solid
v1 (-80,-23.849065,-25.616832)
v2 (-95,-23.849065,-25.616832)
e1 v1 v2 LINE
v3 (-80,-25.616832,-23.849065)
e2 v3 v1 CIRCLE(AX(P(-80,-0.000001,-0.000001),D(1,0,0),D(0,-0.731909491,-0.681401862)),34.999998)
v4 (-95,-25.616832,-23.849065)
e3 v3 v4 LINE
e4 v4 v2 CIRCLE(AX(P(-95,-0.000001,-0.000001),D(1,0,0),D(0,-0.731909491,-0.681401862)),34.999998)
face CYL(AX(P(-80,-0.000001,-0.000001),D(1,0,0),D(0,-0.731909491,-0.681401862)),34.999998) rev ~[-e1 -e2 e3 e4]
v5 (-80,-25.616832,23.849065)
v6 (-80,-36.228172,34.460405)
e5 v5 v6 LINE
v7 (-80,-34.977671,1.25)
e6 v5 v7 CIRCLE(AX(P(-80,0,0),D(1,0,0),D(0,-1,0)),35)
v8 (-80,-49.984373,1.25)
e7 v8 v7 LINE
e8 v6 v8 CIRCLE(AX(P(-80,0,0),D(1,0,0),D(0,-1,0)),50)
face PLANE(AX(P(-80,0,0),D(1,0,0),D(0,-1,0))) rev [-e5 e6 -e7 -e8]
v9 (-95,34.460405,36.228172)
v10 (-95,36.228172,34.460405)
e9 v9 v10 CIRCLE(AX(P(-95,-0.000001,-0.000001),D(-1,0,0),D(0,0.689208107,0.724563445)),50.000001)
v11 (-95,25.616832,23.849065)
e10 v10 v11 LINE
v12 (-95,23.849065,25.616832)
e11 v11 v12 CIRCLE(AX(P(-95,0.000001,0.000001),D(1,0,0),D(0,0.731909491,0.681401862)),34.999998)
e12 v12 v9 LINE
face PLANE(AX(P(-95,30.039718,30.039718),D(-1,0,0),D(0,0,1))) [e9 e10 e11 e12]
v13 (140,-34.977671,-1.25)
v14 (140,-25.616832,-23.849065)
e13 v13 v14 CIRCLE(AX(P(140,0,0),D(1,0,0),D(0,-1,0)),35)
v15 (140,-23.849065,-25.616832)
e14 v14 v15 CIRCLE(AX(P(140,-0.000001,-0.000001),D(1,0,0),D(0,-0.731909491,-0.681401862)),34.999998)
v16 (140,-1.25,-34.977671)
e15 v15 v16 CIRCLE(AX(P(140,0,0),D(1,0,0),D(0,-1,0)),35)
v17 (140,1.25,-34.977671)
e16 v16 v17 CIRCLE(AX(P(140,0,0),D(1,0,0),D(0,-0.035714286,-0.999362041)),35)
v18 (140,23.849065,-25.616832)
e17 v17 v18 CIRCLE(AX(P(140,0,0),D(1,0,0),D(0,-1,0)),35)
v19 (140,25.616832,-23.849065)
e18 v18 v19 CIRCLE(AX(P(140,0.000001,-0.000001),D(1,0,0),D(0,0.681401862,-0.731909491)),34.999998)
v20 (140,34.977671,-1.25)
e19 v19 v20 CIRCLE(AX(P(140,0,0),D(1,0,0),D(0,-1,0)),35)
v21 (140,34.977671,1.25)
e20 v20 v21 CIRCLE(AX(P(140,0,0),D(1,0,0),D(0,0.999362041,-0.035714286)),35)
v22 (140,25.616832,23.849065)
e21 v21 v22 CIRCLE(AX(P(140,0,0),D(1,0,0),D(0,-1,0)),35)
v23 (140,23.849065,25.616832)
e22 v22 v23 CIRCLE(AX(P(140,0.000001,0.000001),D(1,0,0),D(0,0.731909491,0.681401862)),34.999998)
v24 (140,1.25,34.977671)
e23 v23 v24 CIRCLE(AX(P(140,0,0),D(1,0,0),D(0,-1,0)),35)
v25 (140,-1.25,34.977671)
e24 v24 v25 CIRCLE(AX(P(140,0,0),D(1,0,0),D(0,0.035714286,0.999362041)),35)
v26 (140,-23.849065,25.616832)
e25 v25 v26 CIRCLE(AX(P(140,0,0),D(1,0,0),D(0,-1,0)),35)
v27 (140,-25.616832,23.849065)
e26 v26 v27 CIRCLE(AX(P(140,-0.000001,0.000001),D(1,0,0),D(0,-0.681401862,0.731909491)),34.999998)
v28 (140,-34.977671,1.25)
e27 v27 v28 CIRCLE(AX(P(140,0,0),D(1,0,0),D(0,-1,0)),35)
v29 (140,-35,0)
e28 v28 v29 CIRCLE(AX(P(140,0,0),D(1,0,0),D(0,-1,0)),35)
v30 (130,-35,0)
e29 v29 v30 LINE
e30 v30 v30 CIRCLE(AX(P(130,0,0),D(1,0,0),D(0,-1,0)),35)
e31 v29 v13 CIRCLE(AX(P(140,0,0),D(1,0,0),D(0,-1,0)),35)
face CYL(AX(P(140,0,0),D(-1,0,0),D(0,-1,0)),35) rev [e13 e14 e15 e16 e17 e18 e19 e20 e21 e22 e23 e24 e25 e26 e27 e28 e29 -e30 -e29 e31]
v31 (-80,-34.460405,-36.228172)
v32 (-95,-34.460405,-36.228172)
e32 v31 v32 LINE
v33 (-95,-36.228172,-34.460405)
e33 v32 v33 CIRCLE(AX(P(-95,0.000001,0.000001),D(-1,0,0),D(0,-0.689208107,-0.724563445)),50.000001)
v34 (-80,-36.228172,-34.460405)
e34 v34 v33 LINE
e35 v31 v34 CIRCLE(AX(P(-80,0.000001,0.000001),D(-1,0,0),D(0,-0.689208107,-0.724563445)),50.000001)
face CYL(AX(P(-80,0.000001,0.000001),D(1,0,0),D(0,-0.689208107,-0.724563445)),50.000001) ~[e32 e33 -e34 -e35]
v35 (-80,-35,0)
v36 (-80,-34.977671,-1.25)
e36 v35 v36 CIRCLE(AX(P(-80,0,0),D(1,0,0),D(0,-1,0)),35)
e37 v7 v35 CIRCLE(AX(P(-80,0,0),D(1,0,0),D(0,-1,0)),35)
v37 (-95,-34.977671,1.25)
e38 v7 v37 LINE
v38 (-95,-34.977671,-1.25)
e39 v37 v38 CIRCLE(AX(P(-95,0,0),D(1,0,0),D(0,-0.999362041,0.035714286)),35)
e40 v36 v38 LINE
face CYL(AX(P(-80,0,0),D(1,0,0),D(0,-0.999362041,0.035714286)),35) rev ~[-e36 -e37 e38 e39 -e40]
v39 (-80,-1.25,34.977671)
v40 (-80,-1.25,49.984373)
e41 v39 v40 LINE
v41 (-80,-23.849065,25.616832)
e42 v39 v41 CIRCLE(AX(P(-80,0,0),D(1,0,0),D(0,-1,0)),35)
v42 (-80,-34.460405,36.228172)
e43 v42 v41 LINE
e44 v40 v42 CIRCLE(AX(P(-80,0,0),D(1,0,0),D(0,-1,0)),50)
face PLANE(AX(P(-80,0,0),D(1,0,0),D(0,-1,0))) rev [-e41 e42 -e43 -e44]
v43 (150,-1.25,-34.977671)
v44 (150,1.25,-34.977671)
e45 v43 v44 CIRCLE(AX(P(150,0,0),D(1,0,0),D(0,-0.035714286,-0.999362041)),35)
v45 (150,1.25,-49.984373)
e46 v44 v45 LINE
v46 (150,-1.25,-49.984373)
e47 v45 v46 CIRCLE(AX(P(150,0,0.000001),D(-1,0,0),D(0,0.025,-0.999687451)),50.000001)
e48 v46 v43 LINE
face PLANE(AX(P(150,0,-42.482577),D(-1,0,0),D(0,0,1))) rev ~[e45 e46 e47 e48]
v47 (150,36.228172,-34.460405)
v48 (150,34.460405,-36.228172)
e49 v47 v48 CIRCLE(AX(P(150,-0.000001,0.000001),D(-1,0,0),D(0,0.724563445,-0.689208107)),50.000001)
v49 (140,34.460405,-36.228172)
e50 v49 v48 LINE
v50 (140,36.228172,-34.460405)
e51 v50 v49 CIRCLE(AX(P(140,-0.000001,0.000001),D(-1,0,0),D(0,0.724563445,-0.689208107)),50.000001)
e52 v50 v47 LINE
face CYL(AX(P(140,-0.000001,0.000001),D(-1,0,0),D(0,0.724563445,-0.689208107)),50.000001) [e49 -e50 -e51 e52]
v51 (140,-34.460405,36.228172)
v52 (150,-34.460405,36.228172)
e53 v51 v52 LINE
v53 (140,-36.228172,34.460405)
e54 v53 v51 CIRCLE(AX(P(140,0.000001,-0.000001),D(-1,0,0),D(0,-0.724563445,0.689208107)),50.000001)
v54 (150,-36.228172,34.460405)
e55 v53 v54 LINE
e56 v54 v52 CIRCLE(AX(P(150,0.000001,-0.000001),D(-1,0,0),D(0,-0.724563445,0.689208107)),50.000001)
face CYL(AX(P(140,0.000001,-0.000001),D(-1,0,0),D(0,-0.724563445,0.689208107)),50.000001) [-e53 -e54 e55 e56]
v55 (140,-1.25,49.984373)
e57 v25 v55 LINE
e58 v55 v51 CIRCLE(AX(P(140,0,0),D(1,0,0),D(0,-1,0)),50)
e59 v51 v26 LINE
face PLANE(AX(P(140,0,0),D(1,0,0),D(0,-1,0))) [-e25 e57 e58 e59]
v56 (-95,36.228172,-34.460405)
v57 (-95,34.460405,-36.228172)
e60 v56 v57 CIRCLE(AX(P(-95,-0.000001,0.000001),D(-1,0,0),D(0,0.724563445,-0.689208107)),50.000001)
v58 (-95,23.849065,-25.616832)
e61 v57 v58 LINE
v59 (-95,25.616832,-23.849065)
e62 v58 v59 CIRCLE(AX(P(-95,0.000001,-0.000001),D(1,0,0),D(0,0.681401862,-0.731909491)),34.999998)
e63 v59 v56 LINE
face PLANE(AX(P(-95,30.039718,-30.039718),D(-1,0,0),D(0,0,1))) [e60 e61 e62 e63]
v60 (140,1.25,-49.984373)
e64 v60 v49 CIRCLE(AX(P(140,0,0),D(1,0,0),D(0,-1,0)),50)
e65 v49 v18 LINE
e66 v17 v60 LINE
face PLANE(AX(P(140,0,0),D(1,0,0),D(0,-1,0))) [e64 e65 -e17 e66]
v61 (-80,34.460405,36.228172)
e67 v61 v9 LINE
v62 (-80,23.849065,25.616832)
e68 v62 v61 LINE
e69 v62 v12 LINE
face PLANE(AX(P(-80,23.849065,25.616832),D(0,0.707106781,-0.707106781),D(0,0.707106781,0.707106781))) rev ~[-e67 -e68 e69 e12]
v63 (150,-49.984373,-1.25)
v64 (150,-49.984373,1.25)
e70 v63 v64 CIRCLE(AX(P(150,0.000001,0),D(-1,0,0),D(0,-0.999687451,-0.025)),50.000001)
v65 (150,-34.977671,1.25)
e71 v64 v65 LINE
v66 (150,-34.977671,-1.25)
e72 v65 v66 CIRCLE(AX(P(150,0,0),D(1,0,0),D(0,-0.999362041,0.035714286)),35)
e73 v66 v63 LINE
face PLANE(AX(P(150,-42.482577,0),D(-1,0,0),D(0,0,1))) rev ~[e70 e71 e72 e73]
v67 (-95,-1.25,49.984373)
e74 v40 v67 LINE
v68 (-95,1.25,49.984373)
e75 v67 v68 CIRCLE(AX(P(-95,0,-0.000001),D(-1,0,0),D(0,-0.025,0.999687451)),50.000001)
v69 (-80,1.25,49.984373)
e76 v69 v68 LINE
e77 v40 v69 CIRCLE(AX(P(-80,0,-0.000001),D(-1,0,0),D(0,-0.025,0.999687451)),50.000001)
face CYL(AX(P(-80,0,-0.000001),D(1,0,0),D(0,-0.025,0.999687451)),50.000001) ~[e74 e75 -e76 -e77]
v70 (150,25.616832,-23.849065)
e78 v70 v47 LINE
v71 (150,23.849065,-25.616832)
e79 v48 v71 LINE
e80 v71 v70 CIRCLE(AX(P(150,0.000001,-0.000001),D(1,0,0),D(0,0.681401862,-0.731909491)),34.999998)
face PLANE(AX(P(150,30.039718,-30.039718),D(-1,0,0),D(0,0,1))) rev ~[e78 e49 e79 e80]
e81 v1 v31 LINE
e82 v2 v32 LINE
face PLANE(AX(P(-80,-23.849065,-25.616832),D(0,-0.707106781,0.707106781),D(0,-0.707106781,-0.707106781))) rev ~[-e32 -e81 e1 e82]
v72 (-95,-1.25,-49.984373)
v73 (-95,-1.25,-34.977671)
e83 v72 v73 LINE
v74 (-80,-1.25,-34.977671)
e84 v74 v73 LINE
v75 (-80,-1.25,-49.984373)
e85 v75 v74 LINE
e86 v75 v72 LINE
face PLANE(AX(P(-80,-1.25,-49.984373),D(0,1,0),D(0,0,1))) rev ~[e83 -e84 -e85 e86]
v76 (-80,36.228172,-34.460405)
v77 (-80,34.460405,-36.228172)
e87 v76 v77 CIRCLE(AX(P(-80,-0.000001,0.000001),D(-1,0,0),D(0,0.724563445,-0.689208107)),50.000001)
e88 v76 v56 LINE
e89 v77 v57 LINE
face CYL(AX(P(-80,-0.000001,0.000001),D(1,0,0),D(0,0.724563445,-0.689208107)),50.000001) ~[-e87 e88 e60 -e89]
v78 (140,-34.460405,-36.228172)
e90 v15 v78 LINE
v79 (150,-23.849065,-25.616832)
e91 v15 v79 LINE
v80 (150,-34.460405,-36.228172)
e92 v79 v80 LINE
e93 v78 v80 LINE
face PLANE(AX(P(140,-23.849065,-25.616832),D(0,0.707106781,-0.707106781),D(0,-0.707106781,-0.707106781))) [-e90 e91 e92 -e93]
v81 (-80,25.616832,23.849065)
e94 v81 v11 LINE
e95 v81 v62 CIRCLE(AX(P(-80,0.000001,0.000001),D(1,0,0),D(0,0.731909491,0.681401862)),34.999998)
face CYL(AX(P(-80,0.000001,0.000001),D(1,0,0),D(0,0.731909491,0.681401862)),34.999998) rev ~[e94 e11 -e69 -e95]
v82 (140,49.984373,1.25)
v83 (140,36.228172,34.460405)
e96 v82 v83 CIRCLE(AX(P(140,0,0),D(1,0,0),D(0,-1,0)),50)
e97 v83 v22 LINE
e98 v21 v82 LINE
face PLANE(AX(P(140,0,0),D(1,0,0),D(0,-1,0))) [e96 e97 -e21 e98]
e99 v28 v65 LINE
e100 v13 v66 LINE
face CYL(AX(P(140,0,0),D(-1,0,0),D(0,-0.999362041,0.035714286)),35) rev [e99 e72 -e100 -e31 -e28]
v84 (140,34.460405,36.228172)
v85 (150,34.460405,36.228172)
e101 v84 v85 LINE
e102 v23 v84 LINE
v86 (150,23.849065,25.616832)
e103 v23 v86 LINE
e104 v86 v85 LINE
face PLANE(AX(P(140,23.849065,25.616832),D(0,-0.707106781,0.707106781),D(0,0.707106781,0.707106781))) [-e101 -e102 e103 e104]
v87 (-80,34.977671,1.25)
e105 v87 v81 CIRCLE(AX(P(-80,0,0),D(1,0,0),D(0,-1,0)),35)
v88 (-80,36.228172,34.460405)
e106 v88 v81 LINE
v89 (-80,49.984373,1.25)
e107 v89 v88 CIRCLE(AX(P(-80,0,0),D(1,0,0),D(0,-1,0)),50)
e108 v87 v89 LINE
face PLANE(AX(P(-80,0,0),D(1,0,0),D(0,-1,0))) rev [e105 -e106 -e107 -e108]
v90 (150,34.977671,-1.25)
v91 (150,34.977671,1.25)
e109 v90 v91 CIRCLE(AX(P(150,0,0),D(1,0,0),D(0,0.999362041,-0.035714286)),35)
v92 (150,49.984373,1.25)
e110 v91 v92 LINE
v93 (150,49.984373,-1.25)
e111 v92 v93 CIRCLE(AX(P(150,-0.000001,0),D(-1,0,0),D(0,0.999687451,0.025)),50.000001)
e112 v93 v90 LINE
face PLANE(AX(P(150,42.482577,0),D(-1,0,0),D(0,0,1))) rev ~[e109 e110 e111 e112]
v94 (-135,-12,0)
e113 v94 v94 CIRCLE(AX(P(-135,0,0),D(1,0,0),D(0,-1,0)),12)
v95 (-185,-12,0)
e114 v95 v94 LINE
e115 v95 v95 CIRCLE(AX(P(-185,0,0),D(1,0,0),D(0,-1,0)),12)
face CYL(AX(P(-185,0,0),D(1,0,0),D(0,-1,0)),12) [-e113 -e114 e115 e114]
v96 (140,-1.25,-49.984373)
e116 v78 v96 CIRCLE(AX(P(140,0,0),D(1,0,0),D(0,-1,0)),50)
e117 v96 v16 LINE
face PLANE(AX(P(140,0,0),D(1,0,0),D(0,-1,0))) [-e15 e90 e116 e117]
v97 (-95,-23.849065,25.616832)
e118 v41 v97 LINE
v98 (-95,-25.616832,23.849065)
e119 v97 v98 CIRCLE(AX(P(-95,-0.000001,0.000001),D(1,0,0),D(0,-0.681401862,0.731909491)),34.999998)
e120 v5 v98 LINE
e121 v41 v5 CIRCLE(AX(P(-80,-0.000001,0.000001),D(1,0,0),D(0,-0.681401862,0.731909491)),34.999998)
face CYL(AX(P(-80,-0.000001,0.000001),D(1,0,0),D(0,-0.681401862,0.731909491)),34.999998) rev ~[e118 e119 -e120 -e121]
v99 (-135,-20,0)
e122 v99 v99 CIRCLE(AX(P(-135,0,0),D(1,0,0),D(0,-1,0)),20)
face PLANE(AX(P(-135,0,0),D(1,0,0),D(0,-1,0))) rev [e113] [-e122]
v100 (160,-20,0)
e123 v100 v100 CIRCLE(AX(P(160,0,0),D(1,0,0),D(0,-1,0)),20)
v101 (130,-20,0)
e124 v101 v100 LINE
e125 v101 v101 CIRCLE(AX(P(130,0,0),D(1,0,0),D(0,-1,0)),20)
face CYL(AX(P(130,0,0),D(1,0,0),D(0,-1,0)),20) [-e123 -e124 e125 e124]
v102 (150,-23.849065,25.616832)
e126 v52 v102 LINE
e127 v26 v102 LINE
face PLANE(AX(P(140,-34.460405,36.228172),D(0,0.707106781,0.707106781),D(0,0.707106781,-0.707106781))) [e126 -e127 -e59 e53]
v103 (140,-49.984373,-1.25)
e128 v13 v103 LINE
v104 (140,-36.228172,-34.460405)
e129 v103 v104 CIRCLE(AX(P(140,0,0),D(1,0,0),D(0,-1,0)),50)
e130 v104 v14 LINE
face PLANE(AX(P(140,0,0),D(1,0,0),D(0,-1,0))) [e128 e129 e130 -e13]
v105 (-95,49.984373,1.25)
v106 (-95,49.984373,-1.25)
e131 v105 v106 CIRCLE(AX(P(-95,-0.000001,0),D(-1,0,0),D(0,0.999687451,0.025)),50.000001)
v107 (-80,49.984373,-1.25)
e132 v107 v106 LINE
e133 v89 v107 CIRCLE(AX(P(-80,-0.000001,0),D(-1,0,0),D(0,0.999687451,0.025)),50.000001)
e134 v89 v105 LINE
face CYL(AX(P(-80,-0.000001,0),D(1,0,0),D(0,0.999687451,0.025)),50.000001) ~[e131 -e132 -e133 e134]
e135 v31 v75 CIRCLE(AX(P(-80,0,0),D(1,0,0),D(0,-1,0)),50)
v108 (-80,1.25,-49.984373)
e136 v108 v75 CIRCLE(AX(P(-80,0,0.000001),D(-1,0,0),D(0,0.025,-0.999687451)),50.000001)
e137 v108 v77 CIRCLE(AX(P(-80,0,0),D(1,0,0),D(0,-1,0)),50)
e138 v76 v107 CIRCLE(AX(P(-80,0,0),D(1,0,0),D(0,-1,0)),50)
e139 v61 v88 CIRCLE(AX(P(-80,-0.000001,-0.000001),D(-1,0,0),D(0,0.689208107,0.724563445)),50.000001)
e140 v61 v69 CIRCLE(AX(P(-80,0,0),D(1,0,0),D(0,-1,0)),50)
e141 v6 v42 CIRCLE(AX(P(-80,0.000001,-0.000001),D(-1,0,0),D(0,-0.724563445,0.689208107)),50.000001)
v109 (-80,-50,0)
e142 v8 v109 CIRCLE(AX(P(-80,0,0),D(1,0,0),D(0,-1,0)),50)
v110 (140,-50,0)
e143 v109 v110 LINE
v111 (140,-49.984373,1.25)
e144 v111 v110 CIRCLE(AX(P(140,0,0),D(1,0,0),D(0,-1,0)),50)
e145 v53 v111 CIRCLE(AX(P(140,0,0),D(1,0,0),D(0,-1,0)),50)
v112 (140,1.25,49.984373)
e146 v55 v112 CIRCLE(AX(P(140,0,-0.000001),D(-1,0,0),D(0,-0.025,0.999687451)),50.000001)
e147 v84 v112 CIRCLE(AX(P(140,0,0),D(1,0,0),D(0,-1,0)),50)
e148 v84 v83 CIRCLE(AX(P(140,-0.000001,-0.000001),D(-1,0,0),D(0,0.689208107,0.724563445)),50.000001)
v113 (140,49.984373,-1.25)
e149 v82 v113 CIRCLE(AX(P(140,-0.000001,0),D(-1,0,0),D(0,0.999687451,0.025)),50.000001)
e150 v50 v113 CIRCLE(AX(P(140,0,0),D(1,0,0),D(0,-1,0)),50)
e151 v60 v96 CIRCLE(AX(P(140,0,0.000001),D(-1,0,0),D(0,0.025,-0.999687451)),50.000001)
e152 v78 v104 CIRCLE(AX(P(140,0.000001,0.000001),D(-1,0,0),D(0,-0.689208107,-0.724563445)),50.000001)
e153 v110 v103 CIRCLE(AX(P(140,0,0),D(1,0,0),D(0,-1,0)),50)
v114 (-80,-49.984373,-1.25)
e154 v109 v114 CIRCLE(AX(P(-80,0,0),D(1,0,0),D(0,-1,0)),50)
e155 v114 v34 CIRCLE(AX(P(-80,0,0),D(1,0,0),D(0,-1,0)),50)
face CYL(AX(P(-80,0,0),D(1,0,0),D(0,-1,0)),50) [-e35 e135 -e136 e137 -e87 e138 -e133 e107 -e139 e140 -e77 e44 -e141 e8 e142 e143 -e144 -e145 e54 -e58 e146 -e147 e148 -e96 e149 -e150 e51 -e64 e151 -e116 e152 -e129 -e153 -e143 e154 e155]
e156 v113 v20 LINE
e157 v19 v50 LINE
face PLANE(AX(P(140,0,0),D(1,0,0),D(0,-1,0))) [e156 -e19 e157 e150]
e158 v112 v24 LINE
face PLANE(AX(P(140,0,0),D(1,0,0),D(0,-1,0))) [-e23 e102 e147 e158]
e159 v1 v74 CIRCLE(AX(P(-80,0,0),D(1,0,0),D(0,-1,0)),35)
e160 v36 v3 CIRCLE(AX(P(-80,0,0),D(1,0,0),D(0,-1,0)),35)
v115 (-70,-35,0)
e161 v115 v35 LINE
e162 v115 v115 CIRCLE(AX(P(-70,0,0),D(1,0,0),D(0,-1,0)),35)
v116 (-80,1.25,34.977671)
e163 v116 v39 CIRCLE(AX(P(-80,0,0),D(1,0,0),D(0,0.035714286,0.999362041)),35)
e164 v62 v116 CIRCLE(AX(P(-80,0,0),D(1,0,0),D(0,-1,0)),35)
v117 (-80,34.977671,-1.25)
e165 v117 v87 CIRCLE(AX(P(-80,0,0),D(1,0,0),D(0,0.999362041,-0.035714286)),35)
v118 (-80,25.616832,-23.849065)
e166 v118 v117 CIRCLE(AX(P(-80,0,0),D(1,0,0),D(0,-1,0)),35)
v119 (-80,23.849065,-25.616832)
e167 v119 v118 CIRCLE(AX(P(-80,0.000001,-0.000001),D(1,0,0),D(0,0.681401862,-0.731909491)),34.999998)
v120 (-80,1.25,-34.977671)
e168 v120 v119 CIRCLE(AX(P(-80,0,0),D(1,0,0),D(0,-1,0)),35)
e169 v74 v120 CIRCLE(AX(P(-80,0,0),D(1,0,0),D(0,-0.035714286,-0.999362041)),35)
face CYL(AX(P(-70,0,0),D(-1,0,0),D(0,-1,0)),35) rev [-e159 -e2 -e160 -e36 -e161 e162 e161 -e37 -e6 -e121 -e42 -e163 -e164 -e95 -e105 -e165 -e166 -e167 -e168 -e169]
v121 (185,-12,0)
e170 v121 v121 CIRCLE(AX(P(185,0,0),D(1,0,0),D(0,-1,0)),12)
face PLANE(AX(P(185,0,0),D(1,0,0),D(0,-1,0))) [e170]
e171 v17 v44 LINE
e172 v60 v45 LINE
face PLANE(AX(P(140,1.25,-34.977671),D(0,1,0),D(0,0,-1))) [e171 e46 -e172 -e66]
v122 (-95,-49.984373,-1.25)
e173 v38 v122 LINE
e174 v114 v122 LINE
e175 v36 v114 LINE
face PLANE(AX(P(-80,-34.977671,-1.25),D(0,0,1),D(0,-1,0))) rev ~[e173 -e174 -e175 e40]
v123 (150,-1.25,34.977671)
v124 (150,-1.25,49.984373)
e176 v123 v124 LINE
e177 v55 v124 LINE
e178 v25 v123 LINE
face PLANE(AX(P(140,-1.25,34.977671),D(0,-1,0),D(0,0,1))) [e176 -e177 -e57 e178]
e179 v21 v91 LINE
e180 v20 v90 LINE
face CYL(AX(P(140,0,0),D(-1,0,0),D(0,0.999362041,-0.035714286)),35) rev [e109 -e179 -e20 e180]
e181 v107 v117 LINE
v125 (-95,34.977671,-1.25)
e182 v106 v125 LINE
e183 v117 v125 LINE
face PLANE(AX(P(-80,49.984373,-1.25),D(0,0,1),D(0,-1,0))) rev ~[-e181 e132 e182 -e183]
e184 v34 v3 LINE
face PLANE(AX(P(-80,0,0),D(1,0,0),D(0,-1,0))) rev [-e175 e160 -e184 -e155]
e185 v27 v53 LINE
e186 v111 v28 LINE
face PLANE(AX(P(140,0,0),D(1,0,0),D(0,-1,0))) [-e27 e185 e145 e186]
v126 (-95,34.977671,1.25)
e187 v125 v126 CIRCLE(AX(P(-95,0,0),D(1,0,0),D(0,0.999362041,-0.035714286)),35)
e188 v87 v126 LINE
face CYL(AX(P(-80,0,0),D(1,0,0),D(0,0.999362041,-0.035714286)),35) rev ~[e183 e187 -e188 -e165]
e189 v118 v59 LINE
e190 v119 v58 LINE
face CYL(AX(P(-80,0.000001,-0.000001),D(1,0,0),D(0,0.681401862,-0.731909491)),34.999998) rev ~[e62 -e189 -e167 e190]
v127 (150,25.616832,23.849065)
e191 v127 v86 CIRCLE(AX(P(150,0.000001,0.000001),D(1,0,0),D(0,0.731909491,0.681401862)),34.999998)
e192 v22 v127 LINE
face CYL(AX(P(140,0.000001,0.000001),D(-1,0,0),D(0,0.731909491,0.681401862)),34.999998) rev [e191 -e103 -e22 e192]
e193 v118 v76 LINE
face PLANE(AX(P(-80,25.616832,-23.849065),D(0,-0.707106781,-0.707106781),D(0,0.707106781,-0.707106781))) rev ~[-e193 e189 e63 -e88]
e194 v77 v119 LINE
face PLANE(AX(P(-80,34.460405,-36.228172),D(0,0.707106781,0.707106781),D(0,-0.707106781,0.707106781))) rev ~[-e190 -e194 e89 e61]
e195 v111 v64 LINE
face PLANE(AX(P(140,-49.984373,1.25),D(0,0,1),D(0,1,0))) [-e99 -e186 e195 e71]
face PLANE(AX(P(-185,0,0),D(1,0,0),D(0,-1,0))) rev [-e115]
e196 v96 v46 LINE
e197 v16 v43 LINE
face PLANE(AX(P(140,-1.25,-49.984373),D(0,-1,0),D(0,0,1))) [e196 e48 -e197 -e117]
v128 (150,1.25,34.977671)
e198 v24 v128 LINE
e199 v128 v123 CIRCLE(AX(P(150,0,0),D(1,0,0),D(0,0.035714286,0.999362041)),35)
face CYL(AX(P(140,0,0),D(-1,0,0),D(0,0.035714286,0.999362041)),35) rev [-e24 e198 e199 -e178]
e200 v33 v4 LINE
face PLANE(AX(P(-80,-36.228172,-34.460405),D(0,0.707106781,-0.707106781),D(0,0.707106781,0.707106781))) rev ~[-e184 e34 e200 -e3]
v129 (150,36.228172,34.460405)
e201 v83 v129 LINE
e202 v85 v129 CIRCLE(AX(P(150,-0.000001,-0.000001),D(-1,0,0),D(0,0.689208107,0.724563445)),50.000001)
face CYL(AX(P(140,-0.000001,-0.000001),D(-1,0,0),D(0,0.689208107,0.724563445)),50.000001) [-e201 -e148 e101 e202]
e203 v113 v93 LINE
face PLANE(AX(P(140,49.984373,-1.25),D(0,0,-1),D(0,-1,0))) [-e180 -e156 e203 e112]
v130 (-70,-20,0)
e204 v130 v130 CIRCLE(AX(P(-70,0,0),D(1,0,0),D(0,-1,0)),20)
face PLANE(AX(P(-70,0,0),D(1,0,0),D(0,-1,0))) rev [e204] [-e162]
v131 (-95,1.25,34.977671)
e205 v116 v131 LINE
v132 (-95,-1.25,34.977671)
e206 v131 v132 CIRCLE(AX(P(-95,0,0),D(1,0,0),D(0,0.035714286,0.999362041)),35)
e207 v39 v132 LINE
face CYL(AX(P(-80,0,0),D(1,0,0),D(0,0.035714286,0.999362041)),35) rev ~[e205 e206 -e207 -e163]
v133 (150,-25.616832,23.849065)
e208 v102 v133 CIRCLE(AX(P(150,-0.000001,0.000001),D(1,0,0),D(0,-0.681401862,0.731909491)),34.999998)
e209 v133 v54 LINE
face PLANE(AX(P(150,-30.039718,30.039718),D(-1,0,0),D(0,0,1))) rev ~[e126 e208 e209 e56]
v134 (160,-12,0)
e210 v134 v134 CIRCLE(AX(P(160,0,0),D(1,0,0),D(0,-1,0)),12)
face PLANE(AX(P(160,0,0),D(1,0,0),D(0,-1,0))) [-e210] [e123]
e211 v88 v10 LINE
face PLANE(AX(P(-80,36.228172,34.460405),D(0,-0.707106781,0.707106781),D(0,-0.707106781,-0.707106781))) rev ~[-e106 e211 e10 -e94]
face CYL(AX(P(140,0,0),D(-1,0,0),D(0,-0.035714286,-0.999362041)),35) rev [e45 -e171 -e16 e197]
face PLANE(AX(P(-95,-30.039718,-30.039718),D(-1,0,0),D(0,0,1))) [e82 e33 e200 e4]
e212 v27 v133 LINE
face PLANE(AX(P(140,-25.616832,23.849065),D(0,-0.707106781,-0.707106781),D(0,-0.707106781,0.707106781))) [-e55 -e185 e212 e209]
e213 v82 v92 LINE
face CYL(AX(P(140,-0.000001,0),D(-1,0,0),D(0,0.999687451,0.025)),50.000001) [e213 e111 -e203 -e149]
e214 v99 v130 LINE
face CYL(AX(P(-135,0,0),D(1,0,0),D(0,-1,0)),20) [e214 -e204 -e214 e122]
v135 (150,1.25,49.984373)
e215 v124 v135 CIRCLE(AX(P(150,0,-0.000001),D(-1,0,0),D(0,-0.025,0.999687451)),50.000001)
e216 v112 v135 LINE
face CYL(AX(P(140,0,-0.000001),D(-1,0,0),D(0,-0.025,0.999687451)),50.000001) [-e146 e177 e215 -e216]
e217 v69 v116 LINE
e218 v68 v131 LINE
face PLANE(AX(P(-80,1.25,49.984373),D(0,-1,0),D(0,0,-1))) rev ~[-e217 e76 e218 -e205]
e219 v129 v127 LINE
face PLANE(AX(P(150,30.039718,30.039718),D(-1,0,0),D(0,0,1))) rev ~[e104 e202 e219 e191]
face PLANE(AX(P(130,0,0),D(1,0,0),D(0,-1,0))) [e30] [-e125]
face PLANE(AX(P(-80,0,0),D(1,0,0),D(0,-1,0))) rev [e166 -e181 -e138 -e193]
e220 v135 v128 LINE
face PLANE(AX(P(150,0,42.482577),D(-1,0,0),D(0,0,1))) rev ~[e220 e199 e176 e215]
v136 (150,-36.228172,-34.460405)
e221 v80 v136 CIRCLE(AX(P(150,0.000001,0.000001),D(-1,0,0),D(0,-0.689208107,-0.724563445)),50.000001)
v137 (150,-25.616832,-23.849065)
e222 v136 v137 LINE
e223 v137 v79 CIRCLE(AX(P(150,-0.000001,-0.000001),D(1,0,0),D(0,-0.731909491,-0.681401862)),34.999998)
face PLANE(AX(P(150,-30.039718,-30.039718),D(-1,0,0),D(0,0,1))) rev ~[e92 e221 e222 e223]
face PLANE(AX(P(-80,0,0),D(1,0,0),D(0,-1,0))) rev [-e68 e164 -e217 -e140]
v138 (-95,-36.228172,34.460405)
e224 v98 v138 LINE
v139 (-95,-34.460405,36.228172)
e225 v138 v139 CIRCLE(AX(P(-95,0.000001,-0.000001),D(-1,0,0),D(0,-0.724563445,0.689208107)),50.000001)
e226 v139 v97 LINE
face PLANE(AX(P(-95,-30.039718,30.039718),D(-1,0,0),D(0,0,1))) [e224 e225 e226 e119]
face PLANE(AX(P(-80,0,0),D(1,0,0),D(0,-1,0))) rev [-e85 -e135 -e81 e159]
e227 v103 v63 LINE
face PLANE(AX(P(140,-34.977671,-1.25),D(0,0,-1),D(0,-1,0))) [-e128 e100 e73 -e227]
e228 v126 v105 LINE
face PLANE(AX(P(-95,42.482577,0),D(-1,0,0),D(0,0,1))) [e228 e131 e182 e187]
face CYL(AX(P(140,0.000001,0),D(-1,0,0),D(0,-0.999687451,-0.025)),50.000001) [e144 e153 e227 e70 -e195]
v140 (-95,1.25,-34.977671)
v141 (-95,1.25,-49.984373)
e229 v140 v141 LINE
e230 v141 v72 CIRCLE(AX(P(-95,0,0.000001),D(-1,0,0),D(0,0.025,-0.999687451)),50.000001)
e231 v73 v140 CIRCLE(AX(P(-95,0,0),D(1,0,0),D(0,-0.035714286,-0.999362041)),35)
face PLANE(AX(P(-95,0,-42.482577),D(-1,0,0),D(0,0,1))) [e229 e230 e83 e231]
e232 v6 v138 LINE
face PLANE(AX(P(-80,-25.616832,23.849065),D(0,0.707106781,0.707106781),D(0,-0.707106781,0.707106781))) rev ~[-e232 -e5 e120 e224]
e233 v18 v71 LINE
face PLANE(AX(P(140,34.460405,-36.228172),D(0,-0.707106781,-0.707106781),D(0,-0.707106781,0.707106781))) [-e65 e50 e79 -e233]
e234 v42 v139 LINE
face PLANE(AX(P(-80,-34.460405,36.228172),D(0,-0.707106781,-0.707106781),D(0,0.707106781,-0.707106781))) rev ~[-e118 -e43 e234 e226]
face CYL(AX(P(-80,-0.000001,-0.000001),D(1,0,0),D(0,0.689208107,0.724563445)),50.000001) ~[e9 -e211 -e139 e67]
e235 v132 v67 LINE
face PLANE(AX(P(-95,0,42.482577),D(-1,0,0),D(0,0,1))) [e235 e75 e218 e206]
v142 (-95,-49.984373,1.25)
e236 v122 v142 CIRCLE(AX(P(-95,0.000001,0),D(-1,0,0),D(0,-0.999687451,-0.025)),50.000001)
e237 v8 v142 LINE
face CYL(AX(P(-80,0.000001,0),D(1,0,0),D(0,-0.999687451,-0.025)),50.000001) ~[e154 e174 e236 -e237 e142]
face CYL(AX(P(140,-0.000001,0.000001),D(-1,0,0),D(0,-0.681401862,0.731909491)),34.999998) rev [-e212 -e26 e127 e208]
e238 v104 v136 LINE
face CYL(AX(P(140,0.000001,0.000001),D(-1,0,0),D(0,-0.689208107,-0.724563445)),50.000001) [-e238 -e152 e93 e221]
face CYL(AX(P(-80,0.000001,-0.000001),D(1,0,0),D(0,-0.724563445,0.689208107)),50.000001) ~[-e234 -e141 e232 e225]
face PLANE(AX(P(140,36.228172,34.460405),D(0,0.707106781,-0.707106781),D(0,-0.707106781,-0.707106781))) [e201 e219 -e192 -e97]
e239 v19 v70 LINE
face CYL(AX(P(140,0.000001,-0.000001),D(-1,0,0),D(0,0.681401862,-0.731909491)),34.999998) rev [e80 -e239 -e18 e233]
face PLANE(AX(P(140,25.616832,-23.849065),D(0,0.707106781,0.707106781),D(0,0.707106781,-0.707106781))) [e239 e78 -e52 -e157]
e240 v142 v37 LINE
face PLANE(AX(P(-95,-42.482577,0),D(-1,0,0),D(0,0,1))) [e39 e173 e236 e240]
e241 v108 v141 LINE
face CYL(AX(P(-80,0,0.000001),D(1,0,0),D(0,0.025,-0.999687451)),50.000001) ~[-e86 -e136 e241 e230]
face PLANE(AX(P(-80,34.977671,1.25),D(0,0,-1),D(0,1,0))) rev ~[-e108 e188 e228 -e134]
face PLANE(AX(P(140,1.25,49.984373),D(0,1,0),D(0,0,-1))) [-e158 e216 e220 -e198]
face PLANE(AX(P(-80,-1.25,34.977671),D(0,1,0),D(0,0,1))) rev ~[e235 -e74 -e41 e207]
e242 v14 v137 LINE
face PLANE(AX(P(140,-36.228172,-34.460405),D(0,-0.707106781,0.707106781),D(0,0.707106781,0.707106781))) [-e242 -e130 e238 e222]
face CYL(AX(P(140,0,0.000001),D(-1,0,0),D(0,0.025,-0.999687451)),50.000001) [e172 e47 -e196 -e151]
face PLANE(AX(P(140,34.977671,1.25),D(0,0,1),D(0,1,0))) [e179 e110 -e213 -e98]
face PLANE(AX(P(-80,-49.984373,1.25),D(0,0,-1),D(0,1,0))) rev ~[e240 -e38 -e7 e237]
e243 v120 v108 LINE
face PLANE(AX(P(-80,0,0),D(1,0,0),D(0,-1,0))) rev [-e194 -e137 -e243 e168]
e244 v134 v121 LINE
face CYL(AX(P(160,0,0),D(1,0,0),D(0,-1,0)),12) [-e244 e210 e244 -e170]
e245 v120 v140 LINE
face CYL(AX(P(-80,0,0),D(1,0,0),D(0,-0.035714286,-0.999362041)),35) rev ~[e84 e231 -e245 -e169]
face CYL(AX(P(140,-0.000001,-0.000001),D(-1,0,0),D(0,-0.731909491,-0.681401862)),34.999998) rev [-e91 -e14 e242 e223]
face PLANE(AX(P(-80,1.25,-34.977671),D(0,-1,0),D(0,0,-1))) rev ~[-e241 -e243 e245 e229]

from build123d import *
from build123d.topology import SkipClean

# Parameters (mm, degrees)
BOSS_EXTRUDE1_DEPTH = 15
BOSS_EXTRUDE2_START = -220
BOSS_EXTRUDE2_DEPTH = 10


with BuildPart() as part:
    # Sketch1 → Revolve2 (revolve)
    with BuildSketch(Plane.XY, mode=Mode.PRIVATE) as revolve2_sk:
        Polygon((-185, 0), (-185, 12), (-135, 12), (-135, 20), (-70, 20), (-70, 35), (-80, 35), (-80, 50), (140, 50), (140, 35), (130, 35), (130, 20), (160, 20), (160, 12), (185, 12), (185, 0), align=None)
    revolve(revolve2_sk.sketch.rotate(Axis((-185, 0, 0), (1, 0, 0)), 180), axis=Axis((-185, 0, 0), (1, 0, 0)))

    # Sketch4 → Boss-Extrude1 (add)
    with SkipClean():  # the faces are left unmerged after this step: merging them gives an invalid solid
        with BuildSketch(Plane.ZY.offset(80)):
            with BuildLine():
                Line((-1.25, 49.984372558), (-1.25, 34.977671449))
                ThreePointArc((-1.25, 34.977671449), (0, 35), (1.25, 34.977671449))
                Line((1.25, 34.977671449), (1.25, 49.984372558))
                ThreePointArc((1.25, 49.984372558), (0, 50), (-1.25, 49.984372558))
            make_face()
            with BuildLine():
                Line((34.460405313, 36.228172265), (23.849065195, 25.616832148))
                ThreePointArc((23.849065195, 25.616832148), (24.748737342, 24.748737342), (25.616832148, 23.849065195))
                Line((25.616832148, 23.849065195), (36.228172265, 34.460405313))
                ThreePointArc((36.228172265, 34.460405313), (35.355339059, 35.355339059), (34.460405313, 36.228172265))
            make_face()
            with BuildLine():
                Line((49.984372558, 1.25), (34.977671449, 1.25))
                ThreePointArc((34.977671449, 1.25), (35, 0), (34.977671449, -1.25))
                Line((34.977671449, -1.25), (49.984372558, -1.25))
                ThreePointArc((49.984372558, -1.25), (50, 0), (49.984372558, 1.25))
            make_face()
            with BuildLine():
                Line((36.228172265, -34.460405313), (25.616832148, -23.849065195))
                ThreePointArc((25.616832148, -23.849065195), (24.748737342, -24.748737342), (23.849065195, -25.616832148))
                Line((23.849065195, -25.616832148), (34.460405313, -36.228172265))
                ThreePointArc((34.460405313, -36.228172265), (35.355339059, -35.355339059), (36.228172265, -34.460405313))
            make_face()
            with BuildLine():
                Line((1.25, -49.984372558), (1.25, -34.977671449))
                ThreePointArc((1.25, -34.977671449), (0, -35), (-1.25, -34.977671449))
                Line((-1.25, -34.977671449), (-1.25, -49.984372558))
                ThreePointArc((-1.25, -49.984372558), (0, -50), (1.25, -49.984372558))
            make_face()
            with BuildLine():
                Line((-34.460405313, -36.228172265), (-23.849065195, -25.616832148))
                ThreePointArc((-23.849065195, -25.616832148), (-24.748737342, -24.748737342), (-25.616832148, -23.849065195))
                Line((-25.616832148, -23.849065195), (-36.228172265, -34.460405313))
                ThreePointArc((-36.228172265, -34.460405313), (-35.355339059, -35.355339059), (-34.460405313, -36.228172265))
            make_face()
            with BuildLine():
                Line((-49.984372558, -1.25), (-34.977671449, -1.25))
                ThreePointArc((-34.977671449, -1.25), (-35, 0), (-34.977671449, 1.25))
                Line((-34.977671449, 1.25), (-49.984372558, 1.25))
                ThreePointArc((-49.984372558, 1.25), (-50, 0), (-49.984372558, -1.25))
            make_face()
            with BuildLine():
                Line((-36.228172265, 34.460405313), (-25.616832148, 23.849065195))
                ThreePointArc((-25.616832148, 23.849065195), (-24.748737342, 24.748737342), (-23.849065195, 25.616832148))
                Line((-23.849065195, 25.616832148), (-34.460405313, 36.228172265))
                ThreePointArc((-34.460405313, 36.228172265), (-35.355339059, 35.355339059), (-36.228172265, 34.460405313))
            make_face()
        extrude(amount=BOSS_EXTRUDE1_DEPTH)

    # Sketch4_2 → Boss-Extrude2 (add)
    with SkipClean():  # the faces are left unmerged after this step: merging them gives an invalid solid
        with BuildSketch(Plane.ZY.offset(80).offset(BOSS_EXTRUDE2_START)):
            with BuildLine():
                ThreePointArc((1.25, 49.984372558), (0, 50), (-1.25, 49.984372558))
                Line((-1.25, 49.984372558), (-1.25, 34.977671449))
                ThreePointArc((-1.25, 34.977671449), (0, 35), (1.25, 34.977671449))
                Line((1.25, 34.977671449), (1.25, 49.984372558))
            make_face()
            with BuildLine():
                Line((-23.849065195, 25.616832148), (-34.460405313, 36.228172265))
                ThreePointArc((-34.460405313, 36.228172265), (-35.355339059, 35.355339059), (-36.228172265, 34.460405313))
                Line((-36.228172265, 34.460405313), (-25.616832148, 23.849065195))
                ThreePointArc((-25.616832148, 23.849065195), (-24.748737342, 24.748737342), (-23.849065195, 25.616832148))
            make_face()
            with BuildLine():
                ThreePointArc((36.228172265, 34.460405313), (35.355339059, 35.355339059), (34.460405313, 36.228172265))
                Line((34.460405313, 36.228172265), (23.849065195, 25.616832148))
                ThreePointArc((23.849065195, 25.616832148), (24.748737342, 24.748737342), (25.616832148, 23.849065195))
                Line((25.616832148, 23.849065195), (36.228172265, 34.460405313))
            make_face()
            with BuildLine():
                Line((-34.977671449, 1.25), (-49.984372558, 1.25))
                ThreePointArc((-49.984372558, 1.25), (-50, 0), (-49.984372558, -1.25))
                Line((-49.984372558, -1.25), (-34.977671449, -1.25))
                ThreePointArc((-34.977671449, -1.25), (-35, 0), (-34.977671449, 1.25))
            make_face()
            with BuildLine():
                ThreePointArc((49.984372558, -1.25), (50, 0), (49.984372558, 1.25))
                Line((49.984372558, 1.25), (34.977671449, 1.25))
                ThreePointArc((34.977671449, 1.25), (35, 0), (34.977671449, -1.25))
                Line((34.977671449, -1.25), (49.984372558, -1.25))
            make_face()
            with BuildLine():
                Line((-25.616832148, -23.849065195), (-36.228172265, -34.460405313))
                ThreePointArc((-36.228172265, -34.460405313), (-35.355339059, -35.355339059), (-34.460405313, -36.228172265))
                Line((-34.460405313, -36.228172265), (-23.849065195, -25.616832148))
                ThreePointArc((-23.849065195, -25.616832148), (-24.748737342, -24.748737342), (-25.616832148, -23.849065195))
            make_face()
            with BuildLine():
                ThreePointArc((34.460405313, -36.228172265), (35.355339059, -35.355339059), (36.228172265, -34.460405313))
                Line((36.228172265, -34.460405313), (25.616832148, -23.849065195))
                ThreePointArc((25.616832148, -23.849065195), (24.748737342, -24.748737342), (23.849065195, -25.616832148))
                Line((23.849065195, -25.616832148), (34.460405313, -36.228172265))
            make_face()
            with BuildLine():
                Line((-1.25, -34.977671449), (-1.25, -49.984372558))
                ThreePointArc((-1.25, -49.984372558), (0, -50), (1.25, -49.984372558))
                Line((1.25, -49.984372558), (1.25, -34.977671449))
                ThreePointArc((1.25, -34.977671449), (0, -35), (-1.25, -34.977671449))
            make_face()
        extrude(amount=-BOSS_EXTRUDE2_DEPTH)


solid = part.part
